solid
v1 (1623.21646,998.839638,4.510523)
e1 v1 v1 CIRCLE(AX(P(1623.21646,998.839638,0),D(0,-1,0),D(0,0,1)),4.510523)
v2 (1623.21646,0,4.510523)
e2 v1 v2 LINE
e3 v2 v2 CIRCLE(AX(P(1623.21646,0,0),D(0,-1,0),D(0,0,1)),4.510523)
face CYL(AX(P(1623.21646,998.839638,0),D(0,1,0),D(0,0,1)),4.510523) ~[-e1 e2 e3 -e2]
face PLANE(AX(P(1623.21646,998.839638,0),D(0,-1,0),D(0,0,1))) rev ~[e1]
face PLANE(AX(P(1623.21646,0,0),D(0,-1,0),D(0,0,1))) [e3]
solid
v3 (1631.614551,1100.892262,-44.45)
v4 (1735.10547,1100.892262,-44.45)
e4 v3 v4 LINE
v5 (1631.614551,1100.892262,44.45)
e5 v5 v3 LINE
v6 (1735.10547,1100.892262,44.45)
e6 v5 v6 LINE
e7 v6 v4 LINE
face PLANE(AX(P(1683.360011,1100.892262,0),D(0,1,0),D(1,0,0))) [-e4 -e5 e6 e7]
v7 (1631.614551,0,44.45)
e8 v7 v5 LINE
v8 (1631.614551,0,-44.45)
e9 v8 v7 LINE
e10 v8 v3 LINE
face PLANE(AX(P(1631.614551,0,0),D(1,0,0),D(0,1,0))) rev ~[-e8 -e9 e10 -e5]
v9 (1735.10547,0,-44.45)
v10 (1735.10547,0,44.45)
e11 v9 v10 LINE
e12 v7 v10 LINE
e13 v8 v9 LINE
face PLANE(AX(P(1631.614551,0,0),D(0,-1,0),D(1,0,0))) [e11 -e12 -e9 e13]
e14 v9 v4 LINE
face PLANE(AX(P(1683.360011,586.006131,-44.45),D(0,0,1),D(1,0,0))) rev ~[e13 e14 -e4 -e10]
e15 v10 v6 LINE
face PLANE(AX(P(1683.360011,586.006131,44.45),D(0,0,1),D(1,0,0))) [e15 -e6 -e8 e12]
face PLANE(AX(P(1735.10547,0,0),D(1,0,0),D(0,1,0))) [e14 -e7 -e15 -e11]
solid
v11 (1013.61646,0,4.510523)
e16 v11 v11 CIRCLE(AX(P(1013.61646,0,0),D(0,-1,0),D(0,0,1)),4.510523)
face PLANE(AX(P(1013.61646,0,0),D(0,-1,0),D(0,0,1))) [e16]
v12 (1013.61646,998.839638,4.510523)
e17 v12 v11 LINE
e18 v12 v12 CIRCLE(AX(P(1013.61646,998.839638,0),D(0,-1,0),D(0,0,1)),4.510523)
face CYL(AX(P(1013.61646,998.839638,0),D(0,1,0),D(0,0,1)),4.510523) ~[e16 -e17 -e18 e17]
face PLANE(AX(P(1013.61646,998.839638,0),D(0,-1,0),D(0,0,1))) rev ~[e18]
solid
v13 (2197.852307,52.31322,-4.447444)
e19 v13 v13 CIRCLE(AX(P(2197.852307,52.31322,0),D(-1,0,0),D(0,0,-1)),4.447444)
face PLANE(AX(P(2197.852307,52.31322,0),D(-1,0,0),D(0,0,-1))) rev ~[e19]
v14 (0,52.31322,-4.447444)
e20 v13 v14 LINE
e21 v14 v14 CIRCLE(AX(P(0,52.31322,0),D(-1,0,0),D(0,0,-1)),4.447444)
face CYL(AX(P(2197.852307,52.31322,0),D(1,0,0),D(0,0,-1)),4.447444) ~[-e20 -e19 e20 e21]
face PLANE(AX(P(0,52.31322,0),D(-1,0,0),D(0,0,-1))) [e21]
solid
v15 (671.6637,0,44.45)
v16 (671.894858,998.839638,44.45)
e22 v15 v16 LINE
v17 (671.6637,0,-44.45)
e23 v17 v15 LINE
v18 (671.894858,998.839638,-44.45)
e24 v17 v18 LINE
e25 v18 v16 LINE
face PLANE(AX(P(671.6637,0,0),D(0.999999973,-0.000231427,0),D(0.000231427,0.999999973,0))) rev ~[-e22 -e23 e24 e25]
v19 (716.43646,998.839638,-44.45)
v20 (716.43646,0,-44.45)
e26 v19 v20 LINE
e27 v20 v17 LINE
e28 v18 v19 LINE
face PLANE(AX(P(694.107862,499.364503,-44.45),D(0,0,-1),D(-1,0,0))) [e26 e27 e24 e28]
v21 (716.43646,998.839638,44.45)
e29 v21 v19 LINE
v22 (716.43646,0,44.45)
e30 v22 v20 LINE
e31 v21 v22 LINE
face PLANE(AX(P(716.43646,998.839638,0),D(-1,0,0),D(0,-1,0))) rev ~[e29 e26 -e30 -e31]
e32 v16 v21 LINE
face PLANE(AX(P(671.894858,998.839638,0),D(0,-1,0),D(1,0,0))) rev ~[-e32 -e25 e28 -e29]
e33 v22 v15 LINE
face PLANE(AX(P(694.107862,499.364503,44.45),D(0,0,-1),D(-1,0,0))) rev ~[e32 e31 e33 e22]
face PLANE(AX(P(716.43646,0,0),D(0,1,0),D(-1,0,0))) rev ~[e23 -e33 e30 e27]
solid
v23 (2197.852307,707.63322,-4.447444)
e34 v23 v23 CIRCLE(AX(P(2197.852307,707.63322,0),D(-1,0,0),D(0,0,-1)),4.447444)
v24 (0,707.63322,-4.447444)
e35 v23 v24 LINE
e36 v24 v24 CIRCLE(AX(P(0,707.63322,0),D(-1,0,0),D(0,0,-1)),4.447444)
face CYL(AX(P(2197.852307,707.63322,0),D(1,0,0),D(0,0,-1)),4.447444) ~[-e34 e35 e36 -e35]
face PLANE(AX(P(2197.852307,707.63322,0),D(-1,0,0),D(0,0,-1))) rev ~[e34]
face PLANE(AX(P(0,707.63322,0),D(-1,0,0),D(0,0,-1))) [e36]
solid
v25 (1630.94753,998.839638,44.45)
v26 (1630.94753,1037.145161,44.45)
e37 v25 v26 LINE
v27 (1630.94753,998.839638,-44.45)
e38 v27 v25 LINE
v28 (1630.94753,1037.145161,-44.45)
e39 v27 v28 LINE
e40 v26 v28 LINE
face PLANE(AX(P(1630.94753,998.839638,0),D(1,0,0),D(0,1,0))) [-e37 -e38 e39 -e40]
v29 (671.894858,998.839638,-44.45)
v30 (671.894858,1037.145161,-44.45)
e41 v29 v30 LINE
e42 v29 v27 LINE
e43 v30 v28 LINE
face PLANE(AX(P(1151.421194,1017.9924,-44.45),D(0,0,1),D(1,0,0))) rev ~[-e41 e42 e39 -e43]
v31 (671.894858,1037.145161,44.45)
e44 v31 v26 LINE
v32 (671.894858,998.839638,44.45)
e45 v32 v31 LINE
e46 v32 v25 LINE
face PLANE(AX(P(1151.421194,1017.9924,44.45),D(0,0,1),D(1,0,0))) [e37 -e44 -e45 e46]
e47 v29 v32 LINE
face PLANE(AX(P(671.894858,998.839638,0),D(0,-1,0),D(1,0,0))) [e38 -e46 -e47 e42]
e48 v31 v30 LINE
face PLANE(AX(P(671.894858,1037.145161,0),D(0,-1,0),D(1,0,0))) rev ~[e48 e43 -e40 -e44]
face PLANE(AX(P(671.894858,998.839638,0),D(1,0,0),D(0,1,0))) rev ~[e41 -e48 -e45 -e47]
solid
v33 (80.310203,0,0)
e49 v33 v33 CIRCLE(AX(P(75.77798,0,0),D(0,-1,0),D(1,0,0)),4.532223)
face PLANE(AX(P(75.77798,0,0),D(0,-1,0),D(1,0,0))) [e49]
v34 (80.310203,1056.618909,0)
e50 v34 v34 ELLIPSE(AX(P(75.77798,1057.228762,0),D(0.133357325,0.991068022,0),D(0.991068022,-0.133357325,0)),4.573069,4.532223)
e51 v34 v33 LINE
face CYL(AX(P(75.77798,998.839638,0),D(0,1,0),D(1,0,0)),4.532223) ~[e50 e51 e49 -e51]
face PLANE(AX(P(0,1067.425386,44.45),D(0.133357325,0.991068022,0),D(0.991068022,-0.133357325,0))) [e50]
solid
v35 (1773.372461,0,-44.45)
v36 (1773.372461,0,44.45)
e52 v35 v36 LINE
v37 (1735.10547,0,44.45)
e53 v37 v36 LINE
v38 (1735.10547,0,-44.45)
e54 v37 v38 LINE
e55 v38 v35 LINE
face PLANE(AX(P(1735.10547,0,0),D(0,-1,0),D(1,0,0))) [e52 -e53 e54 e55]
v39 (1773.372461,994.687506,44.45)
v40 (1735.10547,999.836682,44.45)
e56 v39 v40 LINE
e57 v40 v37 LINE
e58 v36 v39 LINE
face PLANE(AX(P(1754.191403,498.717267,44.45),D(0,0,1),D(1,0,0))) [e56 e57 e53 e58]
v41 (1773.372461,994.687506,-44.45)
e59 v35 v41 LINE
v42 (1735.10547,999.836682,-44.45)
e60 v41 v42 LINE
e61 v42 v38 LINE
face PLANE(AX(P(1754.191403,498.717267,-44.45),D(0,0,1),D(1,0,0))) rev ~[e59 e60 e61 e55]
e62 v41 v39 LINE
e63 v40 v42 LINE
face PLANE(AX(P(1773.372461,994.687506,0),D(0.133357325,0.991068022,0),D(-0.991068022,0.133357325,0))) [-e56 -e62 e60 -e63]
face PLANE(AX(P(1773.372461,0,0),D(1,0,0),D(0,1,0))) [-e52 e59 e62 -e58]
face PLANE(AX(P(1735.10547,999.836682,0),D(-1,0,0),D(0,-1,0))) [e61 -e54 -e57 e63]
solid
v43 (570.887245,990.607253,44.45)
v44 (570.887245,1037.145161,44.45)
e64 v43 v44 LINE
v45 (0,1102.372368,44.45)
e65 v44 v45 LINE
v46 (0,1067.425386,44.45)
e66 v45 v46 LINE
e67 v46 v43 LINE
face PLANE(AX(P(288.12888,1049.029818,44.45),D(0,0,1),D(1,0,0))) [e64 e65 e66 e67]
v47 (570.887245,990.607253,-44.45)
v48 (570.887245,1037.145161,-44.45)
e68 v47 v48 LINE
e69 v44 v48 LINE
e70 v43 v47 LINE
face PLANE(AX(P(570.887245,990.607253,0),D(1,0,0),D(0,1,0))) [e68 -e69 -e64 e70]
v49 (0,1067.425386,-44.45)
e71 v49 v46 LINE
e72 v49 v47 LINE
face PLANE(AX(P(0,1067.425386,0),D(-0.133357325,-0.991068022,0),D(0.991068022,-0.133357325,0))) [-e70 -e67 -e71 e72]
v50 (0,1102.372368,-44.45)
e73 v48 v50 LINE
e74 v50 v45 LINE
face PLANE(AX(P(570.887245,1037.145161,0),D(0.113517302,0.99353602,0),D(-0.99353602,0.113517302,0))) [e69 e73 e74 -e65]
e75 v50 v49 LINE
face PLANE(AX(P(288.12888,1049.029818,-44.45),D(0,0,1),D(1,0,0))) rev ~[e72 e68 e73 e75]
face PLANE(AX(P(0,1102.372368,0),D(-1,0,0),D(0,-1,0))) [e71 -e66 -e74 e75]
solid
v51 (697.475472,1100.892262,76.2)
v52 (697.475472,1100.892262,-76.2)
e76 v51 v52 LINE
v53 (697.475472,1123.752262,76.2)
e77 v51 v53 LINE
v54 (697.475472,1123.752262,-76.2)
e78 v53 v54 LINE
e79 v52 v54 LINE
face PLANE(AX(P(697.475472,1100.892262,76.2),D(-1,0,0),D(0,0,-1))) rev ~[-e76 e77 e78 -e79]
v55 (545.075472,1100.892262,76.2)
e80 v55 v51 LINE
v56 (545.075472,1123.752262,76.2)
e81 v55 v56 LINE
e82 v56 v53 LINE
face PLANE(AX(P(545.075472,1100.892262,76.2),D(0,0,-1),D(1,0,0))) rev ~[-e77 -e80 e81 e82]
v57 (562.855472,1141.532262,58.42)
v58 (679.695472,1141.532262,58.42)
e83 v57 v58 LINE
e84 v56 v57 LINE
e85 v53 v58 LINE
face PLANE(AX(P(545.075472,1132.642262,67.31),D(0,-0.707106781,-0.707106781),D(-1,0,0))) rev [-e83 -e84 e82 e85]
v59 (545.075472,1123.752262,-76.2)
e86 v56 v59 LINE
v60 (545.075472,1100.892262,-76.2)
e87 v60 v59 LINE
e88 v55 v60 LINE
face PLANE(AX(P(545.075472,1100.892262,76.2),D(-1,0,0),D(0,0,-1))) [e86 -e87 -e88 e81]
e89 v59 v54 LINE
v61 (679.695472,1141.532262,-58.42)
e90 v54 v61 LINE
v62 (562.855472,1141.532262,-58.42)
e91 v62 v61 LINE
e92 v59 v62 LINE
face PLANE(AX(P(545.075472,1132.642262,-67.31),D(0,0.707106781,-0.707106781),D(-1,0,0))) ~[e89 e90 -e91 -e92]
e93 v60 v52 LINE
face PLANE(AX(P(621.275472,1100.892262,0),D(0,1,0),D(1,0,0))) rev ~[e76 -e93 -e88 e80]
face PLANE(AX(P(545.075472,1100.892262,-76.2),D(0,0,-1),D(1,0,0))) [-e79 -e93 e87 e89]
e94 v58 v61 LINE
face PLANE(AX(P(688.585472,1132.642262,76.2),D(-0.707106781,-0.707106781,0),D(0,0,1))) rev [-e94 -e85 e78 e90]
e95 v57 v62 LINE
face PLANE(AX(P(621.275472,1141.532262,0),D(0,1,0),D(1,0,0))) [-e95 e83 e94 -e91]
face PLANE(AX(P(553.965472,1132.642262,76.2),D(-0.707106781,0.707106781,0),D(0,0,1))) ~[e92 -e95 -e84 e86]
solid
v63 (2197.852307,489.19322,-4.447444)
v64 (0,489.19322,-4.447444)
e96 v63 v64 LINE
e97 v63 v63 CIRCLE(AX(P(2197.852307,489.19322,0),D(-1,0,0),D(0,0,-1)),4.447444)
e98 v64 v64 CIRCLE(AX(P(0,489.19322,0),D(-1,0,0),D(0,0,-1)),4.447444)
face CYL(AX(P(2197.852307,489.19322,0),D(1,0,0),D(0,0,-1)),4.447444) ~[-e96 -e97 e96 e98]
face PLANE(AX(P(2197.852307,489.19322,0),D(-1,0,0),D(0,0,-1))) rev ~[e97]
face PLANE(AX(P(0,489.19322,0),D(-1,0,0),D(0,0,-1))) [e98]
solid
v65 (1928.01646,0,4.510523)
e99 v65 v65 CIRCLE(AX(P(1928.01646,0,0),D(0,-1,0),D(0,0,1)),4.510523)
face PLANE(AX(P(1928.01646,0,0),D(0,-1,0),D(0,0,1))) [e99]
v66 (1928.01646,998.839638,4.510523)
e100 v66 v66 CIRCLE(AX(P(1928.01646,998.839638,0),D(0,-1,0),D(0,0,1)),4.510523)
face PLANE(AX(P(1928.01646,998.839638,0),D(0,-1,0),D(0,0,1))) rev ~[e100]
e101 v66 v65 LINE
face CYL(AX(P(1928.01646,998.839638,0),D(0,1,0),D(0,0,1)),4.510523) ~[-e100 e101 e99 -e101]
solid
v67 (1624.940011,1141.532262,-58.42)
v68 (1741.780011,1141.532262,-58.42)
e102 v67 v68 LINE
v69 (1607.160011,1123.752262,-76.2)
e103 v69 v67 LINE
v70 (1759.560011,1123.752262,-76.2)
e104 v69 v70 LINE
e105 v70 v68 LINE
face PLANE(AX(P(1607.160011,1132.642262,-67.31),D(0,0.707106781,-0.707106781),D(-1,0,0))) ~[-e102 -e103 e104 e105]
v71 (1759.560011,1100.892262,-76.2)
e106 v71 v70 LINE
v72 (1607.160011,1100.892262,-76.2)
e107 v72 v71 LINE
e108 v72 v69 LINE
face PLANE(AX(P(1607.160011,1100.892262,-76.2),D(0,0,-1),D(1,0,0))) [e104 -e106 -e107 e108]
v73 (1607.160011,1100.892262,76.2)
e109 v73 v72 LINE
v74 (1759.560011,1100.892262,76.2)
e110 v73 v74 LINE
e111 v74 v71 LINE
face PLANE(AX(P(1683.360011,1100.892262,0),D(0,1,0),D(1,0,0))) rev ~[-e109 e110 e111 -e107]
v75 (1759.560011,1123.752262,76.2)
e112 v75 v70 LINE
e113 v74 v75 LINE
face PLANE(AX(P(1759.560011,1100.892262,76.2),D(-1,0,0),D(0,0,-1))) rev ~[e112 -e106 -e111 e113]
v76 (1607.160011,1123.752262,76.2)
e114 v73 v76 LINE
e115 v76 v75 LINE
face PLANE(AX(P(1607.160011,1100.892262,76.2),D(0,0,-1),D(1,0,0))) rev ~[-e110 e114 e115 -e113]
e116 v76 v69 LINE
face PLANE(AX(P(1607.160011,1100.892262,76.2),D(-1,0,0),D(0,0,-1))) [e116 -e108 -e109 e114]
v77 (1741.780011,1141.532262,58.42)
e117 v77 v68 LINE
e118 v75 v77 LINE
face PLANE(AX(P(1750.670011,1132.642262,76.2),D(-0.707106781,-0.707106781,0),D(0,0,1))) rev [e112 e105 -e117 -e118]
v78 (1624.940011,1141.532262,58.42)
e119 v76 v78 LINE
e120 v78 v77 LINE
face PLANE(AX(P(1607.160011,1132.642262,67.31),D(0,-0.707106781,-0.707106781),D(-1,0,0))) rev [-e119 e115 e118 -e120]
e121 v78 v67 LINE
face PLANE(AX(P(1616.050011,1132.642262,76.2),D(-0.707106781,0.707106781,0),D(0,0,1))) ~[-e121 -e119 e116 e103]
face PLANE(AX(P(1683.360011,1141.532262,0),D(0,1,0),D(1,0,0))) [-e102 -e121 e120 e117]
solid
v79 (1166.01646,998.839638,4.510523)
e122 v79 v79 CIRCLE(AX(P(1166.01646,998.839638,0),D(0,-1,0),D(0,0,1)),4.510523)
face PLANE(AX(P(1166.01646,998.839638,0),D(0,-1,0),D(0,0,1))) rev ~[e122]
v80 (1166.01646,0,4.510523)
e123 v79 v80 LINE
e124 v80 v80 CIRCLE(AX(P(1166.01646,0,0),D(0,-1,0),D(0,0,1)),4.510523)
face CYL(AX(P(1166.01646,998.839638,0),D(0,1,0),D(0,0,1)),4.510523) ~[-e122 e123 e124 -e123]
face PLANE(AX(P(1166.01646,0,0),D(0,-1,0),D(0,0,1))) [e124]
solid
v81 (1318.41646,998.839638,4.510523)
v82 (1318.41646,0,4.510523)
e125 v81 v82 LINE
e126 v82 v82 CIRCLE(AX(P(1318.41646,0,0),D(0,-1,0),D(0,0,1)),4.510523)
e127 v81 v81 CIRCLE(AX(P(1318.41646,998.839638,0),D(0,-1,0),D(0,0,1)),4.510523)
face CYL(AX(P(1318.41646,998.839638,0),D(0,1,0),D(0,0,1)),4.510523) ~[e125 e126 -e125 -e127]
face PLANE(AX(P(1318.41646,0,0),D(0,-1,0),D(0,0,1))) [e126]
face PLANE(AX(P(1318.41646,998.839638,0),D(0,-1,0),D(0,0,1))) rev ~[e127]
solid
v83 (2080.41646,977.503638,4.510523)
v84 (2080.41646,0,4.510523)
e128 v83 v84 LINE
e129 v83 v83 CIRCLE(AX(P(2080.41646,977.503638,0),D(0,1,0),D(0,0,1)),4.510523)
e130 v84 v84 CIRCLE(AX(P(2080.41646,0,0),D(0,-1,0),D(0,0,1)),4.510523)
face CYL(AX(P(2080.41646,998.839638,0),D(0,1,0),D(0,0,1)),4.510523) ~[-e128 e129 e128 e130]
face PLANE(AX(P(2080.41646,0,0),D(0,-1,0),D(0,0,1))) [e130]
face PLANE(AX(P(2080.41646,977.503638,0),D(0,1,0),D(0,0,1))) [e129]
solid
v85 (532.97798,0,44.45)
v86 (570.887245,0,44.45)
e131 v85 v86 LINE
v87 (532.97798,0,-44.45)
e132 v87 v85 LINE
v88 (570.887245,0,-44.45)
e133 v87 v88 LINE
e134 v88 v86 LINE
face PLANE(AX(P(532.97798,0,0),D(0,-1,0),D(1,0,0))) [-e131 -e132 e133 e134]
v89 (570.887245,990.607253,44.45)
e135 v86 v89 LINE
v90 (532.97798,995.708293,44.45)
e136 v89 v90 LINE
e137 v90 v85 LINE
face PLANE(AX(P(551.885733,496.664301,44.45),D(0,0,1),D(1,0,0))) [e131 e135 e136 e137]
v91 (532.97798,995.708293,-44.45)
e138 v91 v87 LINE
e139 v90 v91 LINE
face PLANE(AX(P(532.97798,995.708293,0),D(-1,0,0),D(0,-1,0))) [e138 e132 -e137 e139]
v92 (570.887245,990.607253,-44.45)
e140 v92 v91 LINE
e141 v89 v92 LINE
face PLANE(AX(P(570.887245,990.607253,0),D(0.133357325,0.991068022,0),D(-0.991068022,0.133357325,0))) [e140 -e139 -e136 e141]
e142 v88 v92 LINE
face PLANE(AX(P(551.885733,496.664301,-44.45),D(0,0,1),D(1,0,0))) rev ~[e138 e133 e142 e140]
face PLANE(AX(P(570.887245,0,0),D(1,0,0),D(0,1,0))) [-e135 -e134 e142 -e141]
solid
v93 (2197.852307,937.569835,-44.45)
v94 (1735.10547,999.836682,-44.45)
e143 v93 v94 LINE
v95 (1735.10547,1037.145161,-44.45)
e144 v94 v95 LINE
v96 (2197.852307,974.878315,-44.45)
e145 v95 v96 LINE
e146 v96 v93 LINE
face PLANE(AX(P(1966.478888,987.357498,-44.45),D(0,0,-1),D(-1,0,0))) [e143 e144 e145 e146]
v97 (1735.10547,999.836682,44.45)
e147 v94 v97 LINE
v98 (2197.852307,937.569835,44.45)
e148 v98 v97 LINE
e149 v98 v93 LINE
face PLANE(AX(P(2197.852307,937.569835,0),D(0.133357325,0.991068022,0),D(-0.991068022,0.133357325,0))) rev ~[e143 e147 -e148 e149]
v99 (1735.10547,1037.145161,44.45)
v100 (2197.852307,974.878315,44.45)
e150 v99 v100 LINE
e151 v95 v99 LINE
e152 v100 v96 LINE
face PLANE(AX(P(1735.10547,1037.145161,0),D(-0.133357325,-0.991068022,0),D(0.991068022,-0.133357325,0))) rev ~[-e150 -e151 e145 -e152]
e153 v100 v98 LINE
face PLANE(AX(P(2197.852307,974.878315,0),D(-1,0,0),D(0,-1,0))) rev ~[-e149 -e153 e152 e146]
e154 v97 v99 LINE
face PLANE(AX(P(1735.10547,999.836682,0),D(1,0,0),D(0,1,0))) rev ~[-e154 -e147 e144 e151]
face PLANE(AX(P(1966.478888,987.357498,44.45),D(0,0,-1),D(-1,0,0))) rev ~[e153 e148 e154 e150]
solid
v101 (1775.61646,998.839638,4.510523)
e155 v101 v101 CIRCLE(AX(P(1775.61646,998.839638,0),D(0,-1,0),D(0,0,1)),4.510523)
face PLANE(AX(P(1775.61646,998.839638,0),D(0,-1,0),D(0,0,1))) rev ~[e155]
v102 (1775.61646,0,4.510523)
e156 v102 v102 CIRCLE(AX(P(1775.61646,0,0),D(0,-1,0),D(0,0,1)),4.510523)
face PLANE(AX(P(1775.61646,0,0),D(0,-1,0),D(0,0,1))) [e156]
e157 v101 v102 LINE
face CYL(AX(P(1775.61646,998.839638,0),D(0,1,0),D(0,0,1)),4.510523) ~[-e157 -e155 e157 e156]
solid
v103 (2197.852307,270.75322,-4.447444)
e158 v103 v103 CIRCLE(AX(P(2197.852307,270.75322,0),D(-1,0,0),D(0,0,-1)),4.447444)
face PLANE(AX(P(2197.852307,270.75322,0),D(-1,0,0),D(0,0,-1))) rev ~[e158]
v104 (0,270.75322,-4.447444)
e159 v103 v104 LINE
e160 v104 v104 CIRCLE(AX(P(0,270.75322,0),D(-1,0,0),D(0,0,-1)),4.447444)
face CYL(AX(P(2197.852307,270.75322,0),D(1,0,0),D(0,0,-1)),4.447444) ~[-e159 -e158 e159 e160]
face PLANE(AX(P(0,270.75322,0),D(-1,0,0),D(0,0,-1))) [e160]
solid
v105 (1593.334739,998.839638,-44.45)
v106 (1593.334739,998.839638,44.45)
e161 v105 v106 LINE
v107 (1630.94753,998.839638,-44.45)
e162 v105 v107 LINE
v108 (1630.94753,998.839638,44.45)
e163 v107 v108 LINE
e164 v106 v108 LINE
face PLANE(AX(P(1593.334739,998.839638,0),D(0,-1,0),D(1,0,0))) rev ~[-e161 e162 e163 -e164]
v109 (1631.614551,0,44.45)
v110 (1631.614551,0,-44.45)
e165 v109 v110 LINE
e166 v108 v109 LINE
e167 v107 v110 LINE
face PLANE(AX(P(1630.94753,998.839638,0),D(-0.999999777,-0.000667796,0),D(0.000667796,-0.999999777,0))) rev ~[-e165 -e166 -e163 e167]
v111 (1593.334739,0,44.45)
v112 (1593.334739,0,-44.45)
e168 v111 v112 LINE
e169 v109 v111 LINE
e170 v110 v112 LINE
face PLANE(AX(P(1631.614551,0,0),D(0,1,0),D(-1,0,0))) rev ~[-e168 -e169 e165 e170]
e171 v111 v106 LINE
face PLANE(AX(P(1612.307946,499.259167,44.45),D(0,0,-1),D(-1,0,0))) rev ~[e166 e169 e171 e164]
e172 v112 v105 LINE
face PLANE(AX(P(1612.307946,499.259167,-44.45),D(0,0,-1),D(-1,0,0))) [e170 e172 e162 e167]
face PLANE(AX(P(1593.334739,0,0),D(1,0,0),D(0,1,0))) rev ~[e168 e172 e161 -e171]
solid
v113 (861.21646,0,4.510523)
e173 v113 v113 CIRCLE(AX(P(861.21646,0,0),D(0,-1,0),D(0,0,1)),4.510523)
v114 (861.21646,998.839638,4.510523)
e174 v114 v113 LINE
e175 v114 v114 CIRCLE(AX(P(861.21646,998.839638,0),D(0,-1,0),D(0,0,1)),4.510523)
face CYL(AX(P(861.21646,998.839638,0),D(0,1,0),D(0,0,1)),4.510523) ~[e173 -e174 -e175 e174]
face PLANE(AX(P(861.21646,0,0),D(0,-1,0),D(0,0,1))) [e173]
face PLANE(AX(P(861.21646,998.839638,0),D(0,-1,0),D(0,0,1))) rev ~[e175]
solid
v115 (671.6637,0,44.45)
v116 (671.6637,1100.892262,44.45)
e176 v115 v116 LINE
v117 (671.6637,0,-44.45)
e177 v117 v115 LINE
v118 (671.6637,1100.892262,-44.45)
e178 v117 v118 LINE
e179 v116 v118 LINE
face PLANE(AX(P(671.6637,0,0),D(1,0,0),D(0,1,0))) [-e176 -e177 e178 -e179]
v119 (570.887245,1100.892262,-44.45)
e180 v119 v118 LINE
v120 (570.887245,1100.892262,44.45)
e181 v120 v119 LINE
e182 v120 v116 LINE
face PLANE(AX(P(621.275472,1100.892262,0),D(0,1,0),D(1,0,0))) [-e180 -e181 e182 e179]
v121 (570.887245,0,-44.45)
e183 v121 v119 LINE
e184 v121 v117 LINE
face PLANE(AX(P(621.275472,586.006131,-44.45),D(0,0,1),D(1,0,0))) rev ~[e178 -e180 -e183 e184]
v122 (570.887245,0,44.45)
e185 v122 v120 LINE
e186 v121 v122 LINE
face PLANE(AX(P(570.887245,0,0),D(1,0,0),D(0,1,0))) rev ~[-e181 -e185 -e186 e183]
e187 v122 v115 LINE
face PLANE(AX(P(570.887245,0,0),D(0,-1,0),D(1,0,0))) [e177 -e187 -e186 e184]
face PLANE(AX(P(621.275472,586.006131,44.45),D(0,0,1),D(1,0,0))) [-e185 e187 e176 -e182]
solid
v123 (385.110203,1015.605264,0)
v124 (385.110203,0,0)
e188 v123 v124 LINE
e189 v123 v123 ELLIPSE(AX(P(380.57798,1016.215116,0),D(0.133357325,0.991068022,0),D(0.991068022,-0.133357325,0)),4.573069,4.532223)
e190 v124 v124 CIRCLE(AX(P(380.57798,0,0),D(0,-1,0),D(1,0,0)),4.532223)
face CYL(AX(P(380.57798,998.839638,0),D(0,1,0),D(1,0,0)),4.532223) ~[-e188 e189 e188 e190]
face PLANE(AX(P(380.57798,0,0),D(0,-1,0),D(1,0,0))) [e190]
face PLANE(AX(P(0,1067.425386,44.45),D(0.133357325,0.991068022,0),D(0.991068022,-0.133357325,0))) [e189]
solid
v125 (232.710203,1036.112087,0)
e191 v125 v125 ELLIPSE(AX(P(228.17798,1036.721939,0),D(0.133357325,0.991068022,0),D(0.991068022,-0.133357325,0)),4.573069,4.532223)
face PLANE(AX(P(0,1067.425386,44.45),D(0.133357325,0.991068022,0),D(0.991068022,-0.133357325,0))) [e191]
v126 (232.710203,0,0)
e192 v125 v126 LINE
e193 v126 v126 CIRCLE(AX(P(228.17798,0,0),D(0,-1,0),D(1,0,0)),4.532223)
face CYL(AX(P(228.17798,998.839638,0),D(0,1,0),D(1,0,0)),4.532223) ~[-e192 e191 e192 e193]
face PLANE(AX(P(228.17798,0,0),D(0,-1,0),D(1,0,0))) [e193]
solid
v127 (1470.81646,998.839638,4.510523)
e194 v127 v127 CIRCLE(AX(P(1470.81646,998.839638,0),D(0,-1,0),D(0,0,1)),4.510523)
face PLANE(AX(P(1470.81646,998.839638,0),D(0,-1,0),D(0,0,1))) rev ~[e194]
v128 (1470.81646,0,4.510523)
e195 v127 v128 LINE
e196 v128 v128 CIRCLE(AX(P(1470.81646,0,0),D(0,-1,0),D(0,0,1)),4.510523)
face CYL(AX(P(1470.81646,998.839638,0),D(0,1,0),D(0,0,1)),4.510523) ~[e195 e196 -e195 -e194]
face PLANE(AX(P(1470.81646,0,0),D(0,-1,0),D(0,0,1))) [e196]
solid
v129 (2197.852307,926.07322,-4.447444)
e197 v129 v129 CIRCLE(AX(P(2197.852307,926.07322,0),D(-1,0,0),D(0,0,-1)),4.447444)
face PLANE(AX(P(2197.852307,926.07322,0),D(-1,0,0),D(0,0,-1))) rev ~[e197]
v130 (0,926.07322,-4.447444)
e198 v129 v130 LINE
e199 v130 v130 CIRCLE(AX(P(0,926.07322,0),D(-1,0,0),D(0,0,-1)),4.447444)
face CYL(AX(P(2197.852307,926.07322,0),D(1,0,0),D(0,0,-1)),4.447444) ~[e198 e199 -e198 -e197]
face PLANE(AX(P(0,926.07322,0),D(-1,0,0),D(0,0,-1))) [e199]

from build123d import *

# Parameters (mm, degrees)
SKETCH2_W                        = 100.776454278
SKETCH2_H                        = 1172.012262384
POSTS_DEPTH                      = 44.45
SKETCH2_W_2                      = 103.490918788
POSTS_2_DEPTH                    = 44.45
TOP_2X4_DEPTH                    = 44.45
TOP_2X4_2_DEPTH                  = 44.45
SIDE_VERTICALS_DEPTH             = 44.45
SIDE_VERTICALS_2_DEPTH           = 44.45
SKETCH5_W                        = 959.05267275
SKETCH5_H                        = 38.305522828
GATE_FRAME_TOP_DEPTH             = 44.45
GATE_SIDE_VERTICALS_DEPTH        = 44.45
GATE_SIDE_VERTICALS_2_DEPTH      = 44.45
SKETCH9_R                        = 4.510522668
GATE_AND_RIGHT_VERT_WIRE_DEPTH   = 998.839638219
GATE_AND_RIGHT_VERT_WIRE_2_DEPTH = 998.839638219
GATE_AND_RIGHT_VERT_WIRE_3_DEPTH = 998.839638219
GATE_AND_RIGHT_VERT_WIRE_4_DEPTH = 998.839638219
GATE_AND_RIGHT_VERT_WIRE_5_DEPTH = 998.839638219
GATE_AND_RIGHT_VERT_WIRE_6_DEPTH = 998.839638219
GATE_AND_RIGHT_VERT_WIRE_7_DEPTH = 998.839638219
GATE_AND_RIGHT_VERT_WIRE_8_DEPTH = 998.839638219
GATE_AND_RIGHT_VERT_WIRE_9_DEPTH = 998.839638219
LEFT_VERT_WIRE_REACH             = 2416.583
SKETCH11_R                       = 4.532222792
LEFT_VERT_WIRE_DIRECTION_2_DEPTH = 998.839638
HORIZONTAL_START                 = -1664.874327
SKETCH12_R                       = 4.447444092
HORIZONTAL_WIRE_DEPTH            = 2197.852307
HORIZONTAL_WIRE_2_DEPTH          = 2197.852307
HORIZONTAL_WIRE_3_DEPTH          = 2197.852307
HORIZONTAL_WIRE_4_DEPTH          = 2197.852307
HORIZONTAL_WIRE_5_DEPTH          = 2197.852307
SKETCH13_R                       = 4.510522668
CUT_EXTRUDE1_DEPTH               = 21.336
SKETCH14_W                       = 103.490918788
SKETCH14_H                       = 88.9
SKETCH14_W_2                     = 100.776454278
CUT_EXTRUDE2_DEPTH               = 71.12
SKETCH23_W                       = 152.4
SKETCH23_H                       = 152.4
BOSS_EXTRUDE1_DEPTH              = 40.64
BOSS_EXTRUDE1_2_DEPTH            = 40.64
CHAMFER1_SIZE                    = 17.78
CHAMFER2_SIZE                    = 17.78


with BuildPart() as part:
    # Sketch2 → Posts (new, symmetric)
    with BuildSketch(Plane.XY):
        with Locations((621.27547247, 586.006131192)):
            Rectangle(SKETCH2_W, SKETCH2_H)
    extrude(amount=POSTS_DEPTH, both=True)


with BuildPart() as body_2:
    # Sketch2 → Posts 2 (new, symmetric)
    with BuildSketch(Plane.XY):
        with Locations((1683.360010639, 586.006131192)):
            Rectangle(SKETCH2_W_2, SKETCH2_H)
    extrude(amount=POSTS_2_DEPTH, both=True)


with BuildPart() as body_3:
    # Sketch3 → Top 2x4 (new, symmetric)
    with BuildSketch(Plane.XY):
        Polygon((570.887245331, 1037.145161047), (0, 1102.372368395), (0, 1067.425386357), (570.887245331, 990.607252759), align=None)
    extrude(amount=TOP_2X4_DEPTH, both=True)


with BuildPart() as body_4:
    # Sketch3 → Top 2x4 2 (new, symmetric)
    with BuildSketch(Plane.XY):
        Polygon((1735.105470033, 1037.145161047), (2197.85230682, 974.878314798), (2197.85230682, 937.569835403), (1735.105470033, 999.836681652), align=None)
    extrude(amount=TOP_2X4_2_DEPTH, both=True)


with BuildPart() as body_5:
    # Sketch4 → Side Verticals (new, symmetric)
    with BuildSketch(Plane.XY):
        Polygon((532.977980241, 995.708293314), (532.977980241, 0), (570.887245331, 0), (570.887245331, 990.607252759), align=None)
    extrude(amount=SIDE_VERTICALS_DEPTH, both=True)


with BuildPart() as body_6:
    # Sketch4 → Side Verticals 2 (new, symmetric)
    with BuildSketch(Plane.XY):
        Polygon((1735.105470033, 0), (1773.372461411, 0), (1773.372461411, 994.687505733), (1735.105470033, 999.836681652), align=None)
    extrude(amount=SIDE_VERTICALS_2_DEPTH, both=True)


with BuildPart() as body_7:
    # Sketch5 → Gate Frame Top (new, symmetric)
    with BuildSketch(Plane.XY):
        with Locations((1151.421194056, 1017.992399633)):
            Rectangle(SKETCH5_W, SKETCH5_H)
    extrude(amount=GATE_FRAME_TOP_DEPTH, both=True)


with BuildPart() as body_8:
    # Sketch7 → Gate Side Verticals (new, symmetric)
    with BuildSketch(Plane.XY):
        Polygon((671.894857681, 998.839638219), (716.436459545, 998.839638219), (716.436459545, 0), (671.663699609, 0), align=None)
    extrude(amount=GATE_SIDE_VERTICALS_DEPTH, both=True)


with BuildPart() as body_9:
    # Sketch7 → Gate Side Verticals 2 (new, symmetric)
    with BuildSketch(Plane.XY):
        Polygon((1630.947530431, 998.839638219), (1631.614551245, 0), (1593.334739356, 0), (1593.334739356, 998.839638219), align=None)
    extrude(amount=GATE_SIDE_VERTICALS_2_DEPTH, both=True)


with BuildPart() as body_10:
    # Sketch9 → Gate and Right Vert Wire (new body)
    with BuildSketch(Plane(origin=(0, 998.839638219, 0), x_dir=(-1, 0, 0), z_dir=(0, -1, 0))):
        with Locations(Location((-861.216459545, 0, 0), (0, 0, 270))):
            Circle(SKETCH9_R)
    extrude(amount=GATE_AND_RIGHT_VERT_WIRE_DEPTH)


with BuildPart() as body_11:
    # Sketch9 → Gate and Right Vert Wire 2 (new body)
    with BuildSketch(Plane(origin=(0, 998.839638219, 0), x_dir=(-1, 0, 0), z_dir=(0, -1, 0))):
        with Locations(Location((-1013.616459545, 0, 0), (0, 0, 270))):
            Circle(SKETCH9_R)
    extrude(amount=GATE_AND_RIGHT_VERT_WIRE_2_DEPTH)


with BuildPart() as body_12:
    # Sketch9 → Gate and Right Vert Wire 3 (new body)
    with BuildSketch(Plane(origin=(0, 998.839638219, 0), x_dir=(-1, 0, 0), z_dir=(0, -1, 0))):
        with Locations(Location((-1166.016459545, 0, 0), (0, 0, 270))):
            Circle(SKETCH9_R)
    extrude(amount=GATE_AND_RIGHT_VERT_WIRE_3_DEPTH)


with BuildPart() as body_13:
    # Sketch9 → Gate and Right Vert Wire 4 (new body)
    with BuildSketch(Plane(origin=(0, 998.839638219, 0), x_dir=(-1, 0, 0), z_dir=(0, -1, 0))):
        with Locations(Location((-1318.416459545, 0, 0), (0, 0, 270))):
            Circle(SKETCH9_R)
    extrude(amount=GATE_AND_RIGHT_VERT_WIRE_4_DEPTH)


with BuildPart() as body_14:
    # Sketch9 → Gate and Right Vert Wire 5 (new body)
    with BuildSketch(Plane(origin=(0, 998.839638219, 0), x_dir=(-1, 0, 0), z_dir=(0, -1, 0))):
        with Locations(Location((-1470.816459545, 0, 0), (0, 0, 270))):
            Circle(SKETCH9_R)
    extrude(amount=GATE_AND_RIGHT_VERT_WIRE_5_DEPTH)


with BuildPart() as body_15:
    # Sketch9 → Gate and Right Vert Wire 6 (new body)
    with BuildSketch(Plane(origin=(0, 998.839638219, 0), x_dir=(-1, 0, 0), z_dir=(0, -1, 0))):
        with Locations(Location((-1623.216459545, 0, 0), (0, 0, 270))):
            Circle(SKETCH9_R)
    extrude(amount=GATE_AND_RIGHT_VERT_WIRE_6_DEPTH)


with BuildPart() as body_16:
    # Sketch9 → Gate and Right Vert Wire 7 (new body)
    with BuildSketch(Plane(origin=(0, 998.839638219, 0), x_dir=(-1, 0, 0), z_dir=(0, -1, 0))):
        with Locations(Location((-1775.616459545, 0, 0), (0, 0, 270))):
            Circle(SKETCH9_R)
    extrude(amount=GATE_AND_RIGHT_VERT_WIRE_7_DEPTH)


with BuildPart() as body_17:
    # Sketch9 → Gate and Right Vert Wire 8 (new body)
    with BuildSketch(Plane(origin=(0, 998.839638219, 0), x_dir=(-1, 0, 0), z_dir=(0, -1, 0))):
        with Locations(Location((-1928.016459545, 0, 0), (0, 0, 270))):
            Circle(SKETCH9_R)
    extrude(amount=GATE_AND_RIGHT_VERT_WIRE_8_DEPTH)


with BuildPart() as body_18:
    # Sketch9 → Gate and Right Vert Wire 9 (new body)
    with BuildSketch(Plane(origin=(0, 998.839638219, 0), x_dir=(-1, 0, 0), z_dir=(0, -1, 0))):
        with Locations(Location((-2080.416459545, 0, 0), (0, 0, 270))):
            Circle(SKETCH9_R)
    extrude(amount=GATE_AND_RIGHT_VERT_WIRE_9_DEPTH)

    # Sketch13 → Cut-Extrude1 (cut)
    with BuildSketch(Plane(origin=(0, 998.839638219, 0), x_dir=(1, 0, 0), z_dir=(0, 1, 0))):
        with Locations(Location((2080.416459545, 0, 0), (0, 0, 270))):
            Circle(SKETCH13_R)
    extrude(amount=-CUT_EXTRUDE1_DEPTH, mode=Mode.SUBTRACT)


with BuildPart() as body_19:
    # Left Vert Wire: up to this plane
    left_vert_wire_end = Plane(origin=(0, 1067.425386357, 44.45), z_dir=(0.13335732463892713, 0.9910680218658797, 0))
    # Sketch11 → Left Vert Wire (new, up to the surface)
    with BuildSketch(Plane.XZ.offset(-998.839638219), mode=Mode.PRIVATE) as left_vert_wire_sk1:
        with Locations((380.577980241, 0)):
            Circle(SKETCH11_R)
    left_vert_wire_tool1 = split(extrude(left_vert_wire_sk1.sketch, amount=-LEFT_VERT_WIRE_REACH, mode=Mode.PRIVATE), bisect_by=left_vert_wire_end, keep=Keep.BOTH, mode=Mode.PRIVATE)
    add(left_vert_wire_tool1.solids().sort_by_distance((380.57798, 998.839638, 0))[0])
    # Sketch11 → Left Vert Wire (new, up to the surface)
    with BuildSketch(Plane.XZ.offset(-998.839638219), mode=Mode.PRIVATE) as left_vert_wire_sk2:
        with Locations((228.177980241, 0)):
            Circle(SKETCH11_R)
    left_vert_wire_tool2 = split(extrude(left_vert_wire_sk2.sketch, amount=-LEFT_VERT_WIRE_REACH, mode=Mode.PRIVATE), bisect_by=left_vert_wire_end, keep=Keep.BOTH, mode=Mode.PRIVATE)
    add(left_vert_wire_tool2.solids().sort_by_distance((228.17798, 998.839638, 0))[0])
    # Sketch11 → Left Vert Wire (new, up to the surface)
    with BuildSketch(Plane.XZ.offset(-998.839638219), mode=Mode.PRIVATE) as left_vert_wire_sk3:
        with Locations((75.777980241, 0)):
            Circle(SKETCH11_R)
    left_vert_wire_tool3 = split(extrude(left_vert_wire_sk3.sketch, amount=-LEFT_VERT_WIRE_REACH, mode=Mode.PRIVATE), bisect_by=left_vert_wire_end, keep=Keep.BOTH, mode=Mode.PRIVATE)
    add(left_vert_wire_tool3.solids().sort_by_distance((75.77798, 998.839638, 0))[0])

    # Sketch11 → Left Vert Wire direction 2 (add)
    with BuildSketch(Plane.XZ.offset(-998.839638219)):
        with Locations((380.577980241, 0)):
            Circle(SKETCH11_R)
        with Locations((228.177980241, 0)):
            Circle(SKETCH11_R)
        with Locations((75.777980241, 0)):
            Circle(SKETCH11_R)
    extrude(amount=LEFT_VERT_WIRE_DIRECTION_2_DEPTH)


with BuildPart() as body_20:
    # Sketch12 → Horizontal Wire (new body)
    with BuildSketch(Plane.ZY.offset(-532.977980241).offset(HORIZONTAL_START)):
        with Locations(Location((0, 926.073219901, 0), (0, 0, 180))):
            Circle(SKETCH12_R)
    extrude(amount=HORIZONTAL_WIRE_DEPTH)


with BuildPart() as body_21:
    # Sketch12 → Horizontal Wire 2 (new body)
    with BuildSketch(Plane.ZY.offset(-532.977980241).offset(HORIZONTAL_START)):
        with Locations(Location((0, 707.633219901, 0), (0, 0, 180))):
            Circle(SKETCH12_R)
    extrude(amount=HORIZONTAL_WIRE_2_DEPTH)


with BuildPart() as body_22:
    # Sketch12 → Horizontal Wire 3 (new body)
    with BuildSketch(Plane.ZY.offset(-532.977980241).offset(HORIZONTAL_START)):
        with Locations(Location((0, 489.193219901, 0), (0, 0, 180))):
            Circle(SKETCH12_R)
    extrude(amount=HORIZONTAL_WIRE_3_DEPTH)


with BuildPart() as body_23:
    # Sketch12 → Horizontal Wire 4 (new body)
    with BuildSketch(Plane.ZY.offset(-532.977980241).offset(HORIZONTAL_START)):
        with Locations(Location((0, 270.753219901, 0), (0, 0, 180))):
            Circle(SKETCH12_R)
    extrude(amount=HORIZONTAL_WIRE_4_DEPTH)


with BuildPart() as body_24:
    # Sketch12 → Horizontal Wire 5 (new body)
    with BuildSketch(Plane.ZY.offset(-532.977980241).offset(HORIZONTAL_START)):
        with Locations(Location((0, 52.313219901, 0), (0, 0, 180))):
            Circle(SKETCH12_R)
    extrude(amount=HORIZONTAL_WIRE_5_DEPTH)


with BuildPart() as cut_extrude2_tool:
    # Sketch14 → Cut-Extrude2 (new body)
    with BuildSketch(Plane(origin=(0, 1172.012262384, 0), x_dir=(1, 0, 0), z_dir=(0, 1, 0))):
        with Locations((1683.360010639, 0)):
            Rectangle(SKETCH14_W, SKETCH14_H)
        with Locations((621.27547247, 0)):
            Rectangle(SKETCH14_W_2, SKETCH14_H)
    extrude(amount=-CUT_EXTRUDE2_DEPTH)


with BuildPart() as part_1:
    add(part.part)

    # Cut-Extrude2: cut by cut_extrude2_tool
    add(cut_extrude2_tool.part, mode=Mode.SUBTRACT)


with BuildPart() as body_2_1:
    add(body_2.part)

    # Cut-Extrude2: cut by cut_extrude2_tool
    add(cut_extrude2_tool.part, mode=Mode.SUBTRACT)


with BuildPart() as body_25:
    # Sketch23 → Boss-Extrude1 (new body)
    with BuildSketch(Plane(origin=(0, 1100.892262384, 0), x_dir=(1, 0, 0), z_dir=(0, 1, 0))):
        with Locations((1683.360010639, 0)):
            Rectangle(SKETCH23_W, SKETCH23_H)
    extrude(amount=BOSS_EXTRUDE1_DEPTH)

    # Chamfer2
    chamfer2_edges = [body_25.edges().sort_by_distance(p)[0] for p in [
        (1607.160010639, 1141.532262384, 0),
        (1683.360010639, 1141.532262384, 76.2),
        (1759.560010639, 1141.532262384, 0),
        (1683.360010639, 1141.532262384, -76.2),
    ]]
    chamfer(chamfer2_edges, length=CHAMFER2_SIZE)


with BuildPart() as body_26:
    # Sketch23 → Boss-Extrude1 2 (new body)
    with BuildSketch(Plane(origin=(0, 1100.892262384, 0), x_dir=(1, 0, 0), z_dir=(0, 1, 0))):
        with Locations((621.27547247, 0)):
            Rectangle(SKETCH23_W, SKETCH23_H)
    extrude(amount=BOSS_EXTRUDE1_2_DEPTH)

    # Chamfer1
    chamfer1_edges = [body_26.edges().sort_by_distance(p)[0] for p in [
        (545.07547247, 1141.532262384, 0),
        (621.27547247, 1141.532262384, 76.2),
        (697.47547247, 1141.532262384, 0),
        (621.27547247, 1141.532262384, -76.2),
    ]]
    chamfer(chamfer1_edges, length=CHAMFER1_SIZE)


solid = Compound([body_3.part, body_4.part, body_5.part, body_6.part, body_7.part, body_8.part, body_9.part, body_10.part, body_11.part, body_12.part, body_13.part, body_14.part, body_15.part, body_16.part, body_17.part, body_18.part, body_19.part, body_20.part, body_21.part, body_22.part, body_23.part, body_24.part, part_1.part, body_2_1.part, body_25.part, body_26.part])
